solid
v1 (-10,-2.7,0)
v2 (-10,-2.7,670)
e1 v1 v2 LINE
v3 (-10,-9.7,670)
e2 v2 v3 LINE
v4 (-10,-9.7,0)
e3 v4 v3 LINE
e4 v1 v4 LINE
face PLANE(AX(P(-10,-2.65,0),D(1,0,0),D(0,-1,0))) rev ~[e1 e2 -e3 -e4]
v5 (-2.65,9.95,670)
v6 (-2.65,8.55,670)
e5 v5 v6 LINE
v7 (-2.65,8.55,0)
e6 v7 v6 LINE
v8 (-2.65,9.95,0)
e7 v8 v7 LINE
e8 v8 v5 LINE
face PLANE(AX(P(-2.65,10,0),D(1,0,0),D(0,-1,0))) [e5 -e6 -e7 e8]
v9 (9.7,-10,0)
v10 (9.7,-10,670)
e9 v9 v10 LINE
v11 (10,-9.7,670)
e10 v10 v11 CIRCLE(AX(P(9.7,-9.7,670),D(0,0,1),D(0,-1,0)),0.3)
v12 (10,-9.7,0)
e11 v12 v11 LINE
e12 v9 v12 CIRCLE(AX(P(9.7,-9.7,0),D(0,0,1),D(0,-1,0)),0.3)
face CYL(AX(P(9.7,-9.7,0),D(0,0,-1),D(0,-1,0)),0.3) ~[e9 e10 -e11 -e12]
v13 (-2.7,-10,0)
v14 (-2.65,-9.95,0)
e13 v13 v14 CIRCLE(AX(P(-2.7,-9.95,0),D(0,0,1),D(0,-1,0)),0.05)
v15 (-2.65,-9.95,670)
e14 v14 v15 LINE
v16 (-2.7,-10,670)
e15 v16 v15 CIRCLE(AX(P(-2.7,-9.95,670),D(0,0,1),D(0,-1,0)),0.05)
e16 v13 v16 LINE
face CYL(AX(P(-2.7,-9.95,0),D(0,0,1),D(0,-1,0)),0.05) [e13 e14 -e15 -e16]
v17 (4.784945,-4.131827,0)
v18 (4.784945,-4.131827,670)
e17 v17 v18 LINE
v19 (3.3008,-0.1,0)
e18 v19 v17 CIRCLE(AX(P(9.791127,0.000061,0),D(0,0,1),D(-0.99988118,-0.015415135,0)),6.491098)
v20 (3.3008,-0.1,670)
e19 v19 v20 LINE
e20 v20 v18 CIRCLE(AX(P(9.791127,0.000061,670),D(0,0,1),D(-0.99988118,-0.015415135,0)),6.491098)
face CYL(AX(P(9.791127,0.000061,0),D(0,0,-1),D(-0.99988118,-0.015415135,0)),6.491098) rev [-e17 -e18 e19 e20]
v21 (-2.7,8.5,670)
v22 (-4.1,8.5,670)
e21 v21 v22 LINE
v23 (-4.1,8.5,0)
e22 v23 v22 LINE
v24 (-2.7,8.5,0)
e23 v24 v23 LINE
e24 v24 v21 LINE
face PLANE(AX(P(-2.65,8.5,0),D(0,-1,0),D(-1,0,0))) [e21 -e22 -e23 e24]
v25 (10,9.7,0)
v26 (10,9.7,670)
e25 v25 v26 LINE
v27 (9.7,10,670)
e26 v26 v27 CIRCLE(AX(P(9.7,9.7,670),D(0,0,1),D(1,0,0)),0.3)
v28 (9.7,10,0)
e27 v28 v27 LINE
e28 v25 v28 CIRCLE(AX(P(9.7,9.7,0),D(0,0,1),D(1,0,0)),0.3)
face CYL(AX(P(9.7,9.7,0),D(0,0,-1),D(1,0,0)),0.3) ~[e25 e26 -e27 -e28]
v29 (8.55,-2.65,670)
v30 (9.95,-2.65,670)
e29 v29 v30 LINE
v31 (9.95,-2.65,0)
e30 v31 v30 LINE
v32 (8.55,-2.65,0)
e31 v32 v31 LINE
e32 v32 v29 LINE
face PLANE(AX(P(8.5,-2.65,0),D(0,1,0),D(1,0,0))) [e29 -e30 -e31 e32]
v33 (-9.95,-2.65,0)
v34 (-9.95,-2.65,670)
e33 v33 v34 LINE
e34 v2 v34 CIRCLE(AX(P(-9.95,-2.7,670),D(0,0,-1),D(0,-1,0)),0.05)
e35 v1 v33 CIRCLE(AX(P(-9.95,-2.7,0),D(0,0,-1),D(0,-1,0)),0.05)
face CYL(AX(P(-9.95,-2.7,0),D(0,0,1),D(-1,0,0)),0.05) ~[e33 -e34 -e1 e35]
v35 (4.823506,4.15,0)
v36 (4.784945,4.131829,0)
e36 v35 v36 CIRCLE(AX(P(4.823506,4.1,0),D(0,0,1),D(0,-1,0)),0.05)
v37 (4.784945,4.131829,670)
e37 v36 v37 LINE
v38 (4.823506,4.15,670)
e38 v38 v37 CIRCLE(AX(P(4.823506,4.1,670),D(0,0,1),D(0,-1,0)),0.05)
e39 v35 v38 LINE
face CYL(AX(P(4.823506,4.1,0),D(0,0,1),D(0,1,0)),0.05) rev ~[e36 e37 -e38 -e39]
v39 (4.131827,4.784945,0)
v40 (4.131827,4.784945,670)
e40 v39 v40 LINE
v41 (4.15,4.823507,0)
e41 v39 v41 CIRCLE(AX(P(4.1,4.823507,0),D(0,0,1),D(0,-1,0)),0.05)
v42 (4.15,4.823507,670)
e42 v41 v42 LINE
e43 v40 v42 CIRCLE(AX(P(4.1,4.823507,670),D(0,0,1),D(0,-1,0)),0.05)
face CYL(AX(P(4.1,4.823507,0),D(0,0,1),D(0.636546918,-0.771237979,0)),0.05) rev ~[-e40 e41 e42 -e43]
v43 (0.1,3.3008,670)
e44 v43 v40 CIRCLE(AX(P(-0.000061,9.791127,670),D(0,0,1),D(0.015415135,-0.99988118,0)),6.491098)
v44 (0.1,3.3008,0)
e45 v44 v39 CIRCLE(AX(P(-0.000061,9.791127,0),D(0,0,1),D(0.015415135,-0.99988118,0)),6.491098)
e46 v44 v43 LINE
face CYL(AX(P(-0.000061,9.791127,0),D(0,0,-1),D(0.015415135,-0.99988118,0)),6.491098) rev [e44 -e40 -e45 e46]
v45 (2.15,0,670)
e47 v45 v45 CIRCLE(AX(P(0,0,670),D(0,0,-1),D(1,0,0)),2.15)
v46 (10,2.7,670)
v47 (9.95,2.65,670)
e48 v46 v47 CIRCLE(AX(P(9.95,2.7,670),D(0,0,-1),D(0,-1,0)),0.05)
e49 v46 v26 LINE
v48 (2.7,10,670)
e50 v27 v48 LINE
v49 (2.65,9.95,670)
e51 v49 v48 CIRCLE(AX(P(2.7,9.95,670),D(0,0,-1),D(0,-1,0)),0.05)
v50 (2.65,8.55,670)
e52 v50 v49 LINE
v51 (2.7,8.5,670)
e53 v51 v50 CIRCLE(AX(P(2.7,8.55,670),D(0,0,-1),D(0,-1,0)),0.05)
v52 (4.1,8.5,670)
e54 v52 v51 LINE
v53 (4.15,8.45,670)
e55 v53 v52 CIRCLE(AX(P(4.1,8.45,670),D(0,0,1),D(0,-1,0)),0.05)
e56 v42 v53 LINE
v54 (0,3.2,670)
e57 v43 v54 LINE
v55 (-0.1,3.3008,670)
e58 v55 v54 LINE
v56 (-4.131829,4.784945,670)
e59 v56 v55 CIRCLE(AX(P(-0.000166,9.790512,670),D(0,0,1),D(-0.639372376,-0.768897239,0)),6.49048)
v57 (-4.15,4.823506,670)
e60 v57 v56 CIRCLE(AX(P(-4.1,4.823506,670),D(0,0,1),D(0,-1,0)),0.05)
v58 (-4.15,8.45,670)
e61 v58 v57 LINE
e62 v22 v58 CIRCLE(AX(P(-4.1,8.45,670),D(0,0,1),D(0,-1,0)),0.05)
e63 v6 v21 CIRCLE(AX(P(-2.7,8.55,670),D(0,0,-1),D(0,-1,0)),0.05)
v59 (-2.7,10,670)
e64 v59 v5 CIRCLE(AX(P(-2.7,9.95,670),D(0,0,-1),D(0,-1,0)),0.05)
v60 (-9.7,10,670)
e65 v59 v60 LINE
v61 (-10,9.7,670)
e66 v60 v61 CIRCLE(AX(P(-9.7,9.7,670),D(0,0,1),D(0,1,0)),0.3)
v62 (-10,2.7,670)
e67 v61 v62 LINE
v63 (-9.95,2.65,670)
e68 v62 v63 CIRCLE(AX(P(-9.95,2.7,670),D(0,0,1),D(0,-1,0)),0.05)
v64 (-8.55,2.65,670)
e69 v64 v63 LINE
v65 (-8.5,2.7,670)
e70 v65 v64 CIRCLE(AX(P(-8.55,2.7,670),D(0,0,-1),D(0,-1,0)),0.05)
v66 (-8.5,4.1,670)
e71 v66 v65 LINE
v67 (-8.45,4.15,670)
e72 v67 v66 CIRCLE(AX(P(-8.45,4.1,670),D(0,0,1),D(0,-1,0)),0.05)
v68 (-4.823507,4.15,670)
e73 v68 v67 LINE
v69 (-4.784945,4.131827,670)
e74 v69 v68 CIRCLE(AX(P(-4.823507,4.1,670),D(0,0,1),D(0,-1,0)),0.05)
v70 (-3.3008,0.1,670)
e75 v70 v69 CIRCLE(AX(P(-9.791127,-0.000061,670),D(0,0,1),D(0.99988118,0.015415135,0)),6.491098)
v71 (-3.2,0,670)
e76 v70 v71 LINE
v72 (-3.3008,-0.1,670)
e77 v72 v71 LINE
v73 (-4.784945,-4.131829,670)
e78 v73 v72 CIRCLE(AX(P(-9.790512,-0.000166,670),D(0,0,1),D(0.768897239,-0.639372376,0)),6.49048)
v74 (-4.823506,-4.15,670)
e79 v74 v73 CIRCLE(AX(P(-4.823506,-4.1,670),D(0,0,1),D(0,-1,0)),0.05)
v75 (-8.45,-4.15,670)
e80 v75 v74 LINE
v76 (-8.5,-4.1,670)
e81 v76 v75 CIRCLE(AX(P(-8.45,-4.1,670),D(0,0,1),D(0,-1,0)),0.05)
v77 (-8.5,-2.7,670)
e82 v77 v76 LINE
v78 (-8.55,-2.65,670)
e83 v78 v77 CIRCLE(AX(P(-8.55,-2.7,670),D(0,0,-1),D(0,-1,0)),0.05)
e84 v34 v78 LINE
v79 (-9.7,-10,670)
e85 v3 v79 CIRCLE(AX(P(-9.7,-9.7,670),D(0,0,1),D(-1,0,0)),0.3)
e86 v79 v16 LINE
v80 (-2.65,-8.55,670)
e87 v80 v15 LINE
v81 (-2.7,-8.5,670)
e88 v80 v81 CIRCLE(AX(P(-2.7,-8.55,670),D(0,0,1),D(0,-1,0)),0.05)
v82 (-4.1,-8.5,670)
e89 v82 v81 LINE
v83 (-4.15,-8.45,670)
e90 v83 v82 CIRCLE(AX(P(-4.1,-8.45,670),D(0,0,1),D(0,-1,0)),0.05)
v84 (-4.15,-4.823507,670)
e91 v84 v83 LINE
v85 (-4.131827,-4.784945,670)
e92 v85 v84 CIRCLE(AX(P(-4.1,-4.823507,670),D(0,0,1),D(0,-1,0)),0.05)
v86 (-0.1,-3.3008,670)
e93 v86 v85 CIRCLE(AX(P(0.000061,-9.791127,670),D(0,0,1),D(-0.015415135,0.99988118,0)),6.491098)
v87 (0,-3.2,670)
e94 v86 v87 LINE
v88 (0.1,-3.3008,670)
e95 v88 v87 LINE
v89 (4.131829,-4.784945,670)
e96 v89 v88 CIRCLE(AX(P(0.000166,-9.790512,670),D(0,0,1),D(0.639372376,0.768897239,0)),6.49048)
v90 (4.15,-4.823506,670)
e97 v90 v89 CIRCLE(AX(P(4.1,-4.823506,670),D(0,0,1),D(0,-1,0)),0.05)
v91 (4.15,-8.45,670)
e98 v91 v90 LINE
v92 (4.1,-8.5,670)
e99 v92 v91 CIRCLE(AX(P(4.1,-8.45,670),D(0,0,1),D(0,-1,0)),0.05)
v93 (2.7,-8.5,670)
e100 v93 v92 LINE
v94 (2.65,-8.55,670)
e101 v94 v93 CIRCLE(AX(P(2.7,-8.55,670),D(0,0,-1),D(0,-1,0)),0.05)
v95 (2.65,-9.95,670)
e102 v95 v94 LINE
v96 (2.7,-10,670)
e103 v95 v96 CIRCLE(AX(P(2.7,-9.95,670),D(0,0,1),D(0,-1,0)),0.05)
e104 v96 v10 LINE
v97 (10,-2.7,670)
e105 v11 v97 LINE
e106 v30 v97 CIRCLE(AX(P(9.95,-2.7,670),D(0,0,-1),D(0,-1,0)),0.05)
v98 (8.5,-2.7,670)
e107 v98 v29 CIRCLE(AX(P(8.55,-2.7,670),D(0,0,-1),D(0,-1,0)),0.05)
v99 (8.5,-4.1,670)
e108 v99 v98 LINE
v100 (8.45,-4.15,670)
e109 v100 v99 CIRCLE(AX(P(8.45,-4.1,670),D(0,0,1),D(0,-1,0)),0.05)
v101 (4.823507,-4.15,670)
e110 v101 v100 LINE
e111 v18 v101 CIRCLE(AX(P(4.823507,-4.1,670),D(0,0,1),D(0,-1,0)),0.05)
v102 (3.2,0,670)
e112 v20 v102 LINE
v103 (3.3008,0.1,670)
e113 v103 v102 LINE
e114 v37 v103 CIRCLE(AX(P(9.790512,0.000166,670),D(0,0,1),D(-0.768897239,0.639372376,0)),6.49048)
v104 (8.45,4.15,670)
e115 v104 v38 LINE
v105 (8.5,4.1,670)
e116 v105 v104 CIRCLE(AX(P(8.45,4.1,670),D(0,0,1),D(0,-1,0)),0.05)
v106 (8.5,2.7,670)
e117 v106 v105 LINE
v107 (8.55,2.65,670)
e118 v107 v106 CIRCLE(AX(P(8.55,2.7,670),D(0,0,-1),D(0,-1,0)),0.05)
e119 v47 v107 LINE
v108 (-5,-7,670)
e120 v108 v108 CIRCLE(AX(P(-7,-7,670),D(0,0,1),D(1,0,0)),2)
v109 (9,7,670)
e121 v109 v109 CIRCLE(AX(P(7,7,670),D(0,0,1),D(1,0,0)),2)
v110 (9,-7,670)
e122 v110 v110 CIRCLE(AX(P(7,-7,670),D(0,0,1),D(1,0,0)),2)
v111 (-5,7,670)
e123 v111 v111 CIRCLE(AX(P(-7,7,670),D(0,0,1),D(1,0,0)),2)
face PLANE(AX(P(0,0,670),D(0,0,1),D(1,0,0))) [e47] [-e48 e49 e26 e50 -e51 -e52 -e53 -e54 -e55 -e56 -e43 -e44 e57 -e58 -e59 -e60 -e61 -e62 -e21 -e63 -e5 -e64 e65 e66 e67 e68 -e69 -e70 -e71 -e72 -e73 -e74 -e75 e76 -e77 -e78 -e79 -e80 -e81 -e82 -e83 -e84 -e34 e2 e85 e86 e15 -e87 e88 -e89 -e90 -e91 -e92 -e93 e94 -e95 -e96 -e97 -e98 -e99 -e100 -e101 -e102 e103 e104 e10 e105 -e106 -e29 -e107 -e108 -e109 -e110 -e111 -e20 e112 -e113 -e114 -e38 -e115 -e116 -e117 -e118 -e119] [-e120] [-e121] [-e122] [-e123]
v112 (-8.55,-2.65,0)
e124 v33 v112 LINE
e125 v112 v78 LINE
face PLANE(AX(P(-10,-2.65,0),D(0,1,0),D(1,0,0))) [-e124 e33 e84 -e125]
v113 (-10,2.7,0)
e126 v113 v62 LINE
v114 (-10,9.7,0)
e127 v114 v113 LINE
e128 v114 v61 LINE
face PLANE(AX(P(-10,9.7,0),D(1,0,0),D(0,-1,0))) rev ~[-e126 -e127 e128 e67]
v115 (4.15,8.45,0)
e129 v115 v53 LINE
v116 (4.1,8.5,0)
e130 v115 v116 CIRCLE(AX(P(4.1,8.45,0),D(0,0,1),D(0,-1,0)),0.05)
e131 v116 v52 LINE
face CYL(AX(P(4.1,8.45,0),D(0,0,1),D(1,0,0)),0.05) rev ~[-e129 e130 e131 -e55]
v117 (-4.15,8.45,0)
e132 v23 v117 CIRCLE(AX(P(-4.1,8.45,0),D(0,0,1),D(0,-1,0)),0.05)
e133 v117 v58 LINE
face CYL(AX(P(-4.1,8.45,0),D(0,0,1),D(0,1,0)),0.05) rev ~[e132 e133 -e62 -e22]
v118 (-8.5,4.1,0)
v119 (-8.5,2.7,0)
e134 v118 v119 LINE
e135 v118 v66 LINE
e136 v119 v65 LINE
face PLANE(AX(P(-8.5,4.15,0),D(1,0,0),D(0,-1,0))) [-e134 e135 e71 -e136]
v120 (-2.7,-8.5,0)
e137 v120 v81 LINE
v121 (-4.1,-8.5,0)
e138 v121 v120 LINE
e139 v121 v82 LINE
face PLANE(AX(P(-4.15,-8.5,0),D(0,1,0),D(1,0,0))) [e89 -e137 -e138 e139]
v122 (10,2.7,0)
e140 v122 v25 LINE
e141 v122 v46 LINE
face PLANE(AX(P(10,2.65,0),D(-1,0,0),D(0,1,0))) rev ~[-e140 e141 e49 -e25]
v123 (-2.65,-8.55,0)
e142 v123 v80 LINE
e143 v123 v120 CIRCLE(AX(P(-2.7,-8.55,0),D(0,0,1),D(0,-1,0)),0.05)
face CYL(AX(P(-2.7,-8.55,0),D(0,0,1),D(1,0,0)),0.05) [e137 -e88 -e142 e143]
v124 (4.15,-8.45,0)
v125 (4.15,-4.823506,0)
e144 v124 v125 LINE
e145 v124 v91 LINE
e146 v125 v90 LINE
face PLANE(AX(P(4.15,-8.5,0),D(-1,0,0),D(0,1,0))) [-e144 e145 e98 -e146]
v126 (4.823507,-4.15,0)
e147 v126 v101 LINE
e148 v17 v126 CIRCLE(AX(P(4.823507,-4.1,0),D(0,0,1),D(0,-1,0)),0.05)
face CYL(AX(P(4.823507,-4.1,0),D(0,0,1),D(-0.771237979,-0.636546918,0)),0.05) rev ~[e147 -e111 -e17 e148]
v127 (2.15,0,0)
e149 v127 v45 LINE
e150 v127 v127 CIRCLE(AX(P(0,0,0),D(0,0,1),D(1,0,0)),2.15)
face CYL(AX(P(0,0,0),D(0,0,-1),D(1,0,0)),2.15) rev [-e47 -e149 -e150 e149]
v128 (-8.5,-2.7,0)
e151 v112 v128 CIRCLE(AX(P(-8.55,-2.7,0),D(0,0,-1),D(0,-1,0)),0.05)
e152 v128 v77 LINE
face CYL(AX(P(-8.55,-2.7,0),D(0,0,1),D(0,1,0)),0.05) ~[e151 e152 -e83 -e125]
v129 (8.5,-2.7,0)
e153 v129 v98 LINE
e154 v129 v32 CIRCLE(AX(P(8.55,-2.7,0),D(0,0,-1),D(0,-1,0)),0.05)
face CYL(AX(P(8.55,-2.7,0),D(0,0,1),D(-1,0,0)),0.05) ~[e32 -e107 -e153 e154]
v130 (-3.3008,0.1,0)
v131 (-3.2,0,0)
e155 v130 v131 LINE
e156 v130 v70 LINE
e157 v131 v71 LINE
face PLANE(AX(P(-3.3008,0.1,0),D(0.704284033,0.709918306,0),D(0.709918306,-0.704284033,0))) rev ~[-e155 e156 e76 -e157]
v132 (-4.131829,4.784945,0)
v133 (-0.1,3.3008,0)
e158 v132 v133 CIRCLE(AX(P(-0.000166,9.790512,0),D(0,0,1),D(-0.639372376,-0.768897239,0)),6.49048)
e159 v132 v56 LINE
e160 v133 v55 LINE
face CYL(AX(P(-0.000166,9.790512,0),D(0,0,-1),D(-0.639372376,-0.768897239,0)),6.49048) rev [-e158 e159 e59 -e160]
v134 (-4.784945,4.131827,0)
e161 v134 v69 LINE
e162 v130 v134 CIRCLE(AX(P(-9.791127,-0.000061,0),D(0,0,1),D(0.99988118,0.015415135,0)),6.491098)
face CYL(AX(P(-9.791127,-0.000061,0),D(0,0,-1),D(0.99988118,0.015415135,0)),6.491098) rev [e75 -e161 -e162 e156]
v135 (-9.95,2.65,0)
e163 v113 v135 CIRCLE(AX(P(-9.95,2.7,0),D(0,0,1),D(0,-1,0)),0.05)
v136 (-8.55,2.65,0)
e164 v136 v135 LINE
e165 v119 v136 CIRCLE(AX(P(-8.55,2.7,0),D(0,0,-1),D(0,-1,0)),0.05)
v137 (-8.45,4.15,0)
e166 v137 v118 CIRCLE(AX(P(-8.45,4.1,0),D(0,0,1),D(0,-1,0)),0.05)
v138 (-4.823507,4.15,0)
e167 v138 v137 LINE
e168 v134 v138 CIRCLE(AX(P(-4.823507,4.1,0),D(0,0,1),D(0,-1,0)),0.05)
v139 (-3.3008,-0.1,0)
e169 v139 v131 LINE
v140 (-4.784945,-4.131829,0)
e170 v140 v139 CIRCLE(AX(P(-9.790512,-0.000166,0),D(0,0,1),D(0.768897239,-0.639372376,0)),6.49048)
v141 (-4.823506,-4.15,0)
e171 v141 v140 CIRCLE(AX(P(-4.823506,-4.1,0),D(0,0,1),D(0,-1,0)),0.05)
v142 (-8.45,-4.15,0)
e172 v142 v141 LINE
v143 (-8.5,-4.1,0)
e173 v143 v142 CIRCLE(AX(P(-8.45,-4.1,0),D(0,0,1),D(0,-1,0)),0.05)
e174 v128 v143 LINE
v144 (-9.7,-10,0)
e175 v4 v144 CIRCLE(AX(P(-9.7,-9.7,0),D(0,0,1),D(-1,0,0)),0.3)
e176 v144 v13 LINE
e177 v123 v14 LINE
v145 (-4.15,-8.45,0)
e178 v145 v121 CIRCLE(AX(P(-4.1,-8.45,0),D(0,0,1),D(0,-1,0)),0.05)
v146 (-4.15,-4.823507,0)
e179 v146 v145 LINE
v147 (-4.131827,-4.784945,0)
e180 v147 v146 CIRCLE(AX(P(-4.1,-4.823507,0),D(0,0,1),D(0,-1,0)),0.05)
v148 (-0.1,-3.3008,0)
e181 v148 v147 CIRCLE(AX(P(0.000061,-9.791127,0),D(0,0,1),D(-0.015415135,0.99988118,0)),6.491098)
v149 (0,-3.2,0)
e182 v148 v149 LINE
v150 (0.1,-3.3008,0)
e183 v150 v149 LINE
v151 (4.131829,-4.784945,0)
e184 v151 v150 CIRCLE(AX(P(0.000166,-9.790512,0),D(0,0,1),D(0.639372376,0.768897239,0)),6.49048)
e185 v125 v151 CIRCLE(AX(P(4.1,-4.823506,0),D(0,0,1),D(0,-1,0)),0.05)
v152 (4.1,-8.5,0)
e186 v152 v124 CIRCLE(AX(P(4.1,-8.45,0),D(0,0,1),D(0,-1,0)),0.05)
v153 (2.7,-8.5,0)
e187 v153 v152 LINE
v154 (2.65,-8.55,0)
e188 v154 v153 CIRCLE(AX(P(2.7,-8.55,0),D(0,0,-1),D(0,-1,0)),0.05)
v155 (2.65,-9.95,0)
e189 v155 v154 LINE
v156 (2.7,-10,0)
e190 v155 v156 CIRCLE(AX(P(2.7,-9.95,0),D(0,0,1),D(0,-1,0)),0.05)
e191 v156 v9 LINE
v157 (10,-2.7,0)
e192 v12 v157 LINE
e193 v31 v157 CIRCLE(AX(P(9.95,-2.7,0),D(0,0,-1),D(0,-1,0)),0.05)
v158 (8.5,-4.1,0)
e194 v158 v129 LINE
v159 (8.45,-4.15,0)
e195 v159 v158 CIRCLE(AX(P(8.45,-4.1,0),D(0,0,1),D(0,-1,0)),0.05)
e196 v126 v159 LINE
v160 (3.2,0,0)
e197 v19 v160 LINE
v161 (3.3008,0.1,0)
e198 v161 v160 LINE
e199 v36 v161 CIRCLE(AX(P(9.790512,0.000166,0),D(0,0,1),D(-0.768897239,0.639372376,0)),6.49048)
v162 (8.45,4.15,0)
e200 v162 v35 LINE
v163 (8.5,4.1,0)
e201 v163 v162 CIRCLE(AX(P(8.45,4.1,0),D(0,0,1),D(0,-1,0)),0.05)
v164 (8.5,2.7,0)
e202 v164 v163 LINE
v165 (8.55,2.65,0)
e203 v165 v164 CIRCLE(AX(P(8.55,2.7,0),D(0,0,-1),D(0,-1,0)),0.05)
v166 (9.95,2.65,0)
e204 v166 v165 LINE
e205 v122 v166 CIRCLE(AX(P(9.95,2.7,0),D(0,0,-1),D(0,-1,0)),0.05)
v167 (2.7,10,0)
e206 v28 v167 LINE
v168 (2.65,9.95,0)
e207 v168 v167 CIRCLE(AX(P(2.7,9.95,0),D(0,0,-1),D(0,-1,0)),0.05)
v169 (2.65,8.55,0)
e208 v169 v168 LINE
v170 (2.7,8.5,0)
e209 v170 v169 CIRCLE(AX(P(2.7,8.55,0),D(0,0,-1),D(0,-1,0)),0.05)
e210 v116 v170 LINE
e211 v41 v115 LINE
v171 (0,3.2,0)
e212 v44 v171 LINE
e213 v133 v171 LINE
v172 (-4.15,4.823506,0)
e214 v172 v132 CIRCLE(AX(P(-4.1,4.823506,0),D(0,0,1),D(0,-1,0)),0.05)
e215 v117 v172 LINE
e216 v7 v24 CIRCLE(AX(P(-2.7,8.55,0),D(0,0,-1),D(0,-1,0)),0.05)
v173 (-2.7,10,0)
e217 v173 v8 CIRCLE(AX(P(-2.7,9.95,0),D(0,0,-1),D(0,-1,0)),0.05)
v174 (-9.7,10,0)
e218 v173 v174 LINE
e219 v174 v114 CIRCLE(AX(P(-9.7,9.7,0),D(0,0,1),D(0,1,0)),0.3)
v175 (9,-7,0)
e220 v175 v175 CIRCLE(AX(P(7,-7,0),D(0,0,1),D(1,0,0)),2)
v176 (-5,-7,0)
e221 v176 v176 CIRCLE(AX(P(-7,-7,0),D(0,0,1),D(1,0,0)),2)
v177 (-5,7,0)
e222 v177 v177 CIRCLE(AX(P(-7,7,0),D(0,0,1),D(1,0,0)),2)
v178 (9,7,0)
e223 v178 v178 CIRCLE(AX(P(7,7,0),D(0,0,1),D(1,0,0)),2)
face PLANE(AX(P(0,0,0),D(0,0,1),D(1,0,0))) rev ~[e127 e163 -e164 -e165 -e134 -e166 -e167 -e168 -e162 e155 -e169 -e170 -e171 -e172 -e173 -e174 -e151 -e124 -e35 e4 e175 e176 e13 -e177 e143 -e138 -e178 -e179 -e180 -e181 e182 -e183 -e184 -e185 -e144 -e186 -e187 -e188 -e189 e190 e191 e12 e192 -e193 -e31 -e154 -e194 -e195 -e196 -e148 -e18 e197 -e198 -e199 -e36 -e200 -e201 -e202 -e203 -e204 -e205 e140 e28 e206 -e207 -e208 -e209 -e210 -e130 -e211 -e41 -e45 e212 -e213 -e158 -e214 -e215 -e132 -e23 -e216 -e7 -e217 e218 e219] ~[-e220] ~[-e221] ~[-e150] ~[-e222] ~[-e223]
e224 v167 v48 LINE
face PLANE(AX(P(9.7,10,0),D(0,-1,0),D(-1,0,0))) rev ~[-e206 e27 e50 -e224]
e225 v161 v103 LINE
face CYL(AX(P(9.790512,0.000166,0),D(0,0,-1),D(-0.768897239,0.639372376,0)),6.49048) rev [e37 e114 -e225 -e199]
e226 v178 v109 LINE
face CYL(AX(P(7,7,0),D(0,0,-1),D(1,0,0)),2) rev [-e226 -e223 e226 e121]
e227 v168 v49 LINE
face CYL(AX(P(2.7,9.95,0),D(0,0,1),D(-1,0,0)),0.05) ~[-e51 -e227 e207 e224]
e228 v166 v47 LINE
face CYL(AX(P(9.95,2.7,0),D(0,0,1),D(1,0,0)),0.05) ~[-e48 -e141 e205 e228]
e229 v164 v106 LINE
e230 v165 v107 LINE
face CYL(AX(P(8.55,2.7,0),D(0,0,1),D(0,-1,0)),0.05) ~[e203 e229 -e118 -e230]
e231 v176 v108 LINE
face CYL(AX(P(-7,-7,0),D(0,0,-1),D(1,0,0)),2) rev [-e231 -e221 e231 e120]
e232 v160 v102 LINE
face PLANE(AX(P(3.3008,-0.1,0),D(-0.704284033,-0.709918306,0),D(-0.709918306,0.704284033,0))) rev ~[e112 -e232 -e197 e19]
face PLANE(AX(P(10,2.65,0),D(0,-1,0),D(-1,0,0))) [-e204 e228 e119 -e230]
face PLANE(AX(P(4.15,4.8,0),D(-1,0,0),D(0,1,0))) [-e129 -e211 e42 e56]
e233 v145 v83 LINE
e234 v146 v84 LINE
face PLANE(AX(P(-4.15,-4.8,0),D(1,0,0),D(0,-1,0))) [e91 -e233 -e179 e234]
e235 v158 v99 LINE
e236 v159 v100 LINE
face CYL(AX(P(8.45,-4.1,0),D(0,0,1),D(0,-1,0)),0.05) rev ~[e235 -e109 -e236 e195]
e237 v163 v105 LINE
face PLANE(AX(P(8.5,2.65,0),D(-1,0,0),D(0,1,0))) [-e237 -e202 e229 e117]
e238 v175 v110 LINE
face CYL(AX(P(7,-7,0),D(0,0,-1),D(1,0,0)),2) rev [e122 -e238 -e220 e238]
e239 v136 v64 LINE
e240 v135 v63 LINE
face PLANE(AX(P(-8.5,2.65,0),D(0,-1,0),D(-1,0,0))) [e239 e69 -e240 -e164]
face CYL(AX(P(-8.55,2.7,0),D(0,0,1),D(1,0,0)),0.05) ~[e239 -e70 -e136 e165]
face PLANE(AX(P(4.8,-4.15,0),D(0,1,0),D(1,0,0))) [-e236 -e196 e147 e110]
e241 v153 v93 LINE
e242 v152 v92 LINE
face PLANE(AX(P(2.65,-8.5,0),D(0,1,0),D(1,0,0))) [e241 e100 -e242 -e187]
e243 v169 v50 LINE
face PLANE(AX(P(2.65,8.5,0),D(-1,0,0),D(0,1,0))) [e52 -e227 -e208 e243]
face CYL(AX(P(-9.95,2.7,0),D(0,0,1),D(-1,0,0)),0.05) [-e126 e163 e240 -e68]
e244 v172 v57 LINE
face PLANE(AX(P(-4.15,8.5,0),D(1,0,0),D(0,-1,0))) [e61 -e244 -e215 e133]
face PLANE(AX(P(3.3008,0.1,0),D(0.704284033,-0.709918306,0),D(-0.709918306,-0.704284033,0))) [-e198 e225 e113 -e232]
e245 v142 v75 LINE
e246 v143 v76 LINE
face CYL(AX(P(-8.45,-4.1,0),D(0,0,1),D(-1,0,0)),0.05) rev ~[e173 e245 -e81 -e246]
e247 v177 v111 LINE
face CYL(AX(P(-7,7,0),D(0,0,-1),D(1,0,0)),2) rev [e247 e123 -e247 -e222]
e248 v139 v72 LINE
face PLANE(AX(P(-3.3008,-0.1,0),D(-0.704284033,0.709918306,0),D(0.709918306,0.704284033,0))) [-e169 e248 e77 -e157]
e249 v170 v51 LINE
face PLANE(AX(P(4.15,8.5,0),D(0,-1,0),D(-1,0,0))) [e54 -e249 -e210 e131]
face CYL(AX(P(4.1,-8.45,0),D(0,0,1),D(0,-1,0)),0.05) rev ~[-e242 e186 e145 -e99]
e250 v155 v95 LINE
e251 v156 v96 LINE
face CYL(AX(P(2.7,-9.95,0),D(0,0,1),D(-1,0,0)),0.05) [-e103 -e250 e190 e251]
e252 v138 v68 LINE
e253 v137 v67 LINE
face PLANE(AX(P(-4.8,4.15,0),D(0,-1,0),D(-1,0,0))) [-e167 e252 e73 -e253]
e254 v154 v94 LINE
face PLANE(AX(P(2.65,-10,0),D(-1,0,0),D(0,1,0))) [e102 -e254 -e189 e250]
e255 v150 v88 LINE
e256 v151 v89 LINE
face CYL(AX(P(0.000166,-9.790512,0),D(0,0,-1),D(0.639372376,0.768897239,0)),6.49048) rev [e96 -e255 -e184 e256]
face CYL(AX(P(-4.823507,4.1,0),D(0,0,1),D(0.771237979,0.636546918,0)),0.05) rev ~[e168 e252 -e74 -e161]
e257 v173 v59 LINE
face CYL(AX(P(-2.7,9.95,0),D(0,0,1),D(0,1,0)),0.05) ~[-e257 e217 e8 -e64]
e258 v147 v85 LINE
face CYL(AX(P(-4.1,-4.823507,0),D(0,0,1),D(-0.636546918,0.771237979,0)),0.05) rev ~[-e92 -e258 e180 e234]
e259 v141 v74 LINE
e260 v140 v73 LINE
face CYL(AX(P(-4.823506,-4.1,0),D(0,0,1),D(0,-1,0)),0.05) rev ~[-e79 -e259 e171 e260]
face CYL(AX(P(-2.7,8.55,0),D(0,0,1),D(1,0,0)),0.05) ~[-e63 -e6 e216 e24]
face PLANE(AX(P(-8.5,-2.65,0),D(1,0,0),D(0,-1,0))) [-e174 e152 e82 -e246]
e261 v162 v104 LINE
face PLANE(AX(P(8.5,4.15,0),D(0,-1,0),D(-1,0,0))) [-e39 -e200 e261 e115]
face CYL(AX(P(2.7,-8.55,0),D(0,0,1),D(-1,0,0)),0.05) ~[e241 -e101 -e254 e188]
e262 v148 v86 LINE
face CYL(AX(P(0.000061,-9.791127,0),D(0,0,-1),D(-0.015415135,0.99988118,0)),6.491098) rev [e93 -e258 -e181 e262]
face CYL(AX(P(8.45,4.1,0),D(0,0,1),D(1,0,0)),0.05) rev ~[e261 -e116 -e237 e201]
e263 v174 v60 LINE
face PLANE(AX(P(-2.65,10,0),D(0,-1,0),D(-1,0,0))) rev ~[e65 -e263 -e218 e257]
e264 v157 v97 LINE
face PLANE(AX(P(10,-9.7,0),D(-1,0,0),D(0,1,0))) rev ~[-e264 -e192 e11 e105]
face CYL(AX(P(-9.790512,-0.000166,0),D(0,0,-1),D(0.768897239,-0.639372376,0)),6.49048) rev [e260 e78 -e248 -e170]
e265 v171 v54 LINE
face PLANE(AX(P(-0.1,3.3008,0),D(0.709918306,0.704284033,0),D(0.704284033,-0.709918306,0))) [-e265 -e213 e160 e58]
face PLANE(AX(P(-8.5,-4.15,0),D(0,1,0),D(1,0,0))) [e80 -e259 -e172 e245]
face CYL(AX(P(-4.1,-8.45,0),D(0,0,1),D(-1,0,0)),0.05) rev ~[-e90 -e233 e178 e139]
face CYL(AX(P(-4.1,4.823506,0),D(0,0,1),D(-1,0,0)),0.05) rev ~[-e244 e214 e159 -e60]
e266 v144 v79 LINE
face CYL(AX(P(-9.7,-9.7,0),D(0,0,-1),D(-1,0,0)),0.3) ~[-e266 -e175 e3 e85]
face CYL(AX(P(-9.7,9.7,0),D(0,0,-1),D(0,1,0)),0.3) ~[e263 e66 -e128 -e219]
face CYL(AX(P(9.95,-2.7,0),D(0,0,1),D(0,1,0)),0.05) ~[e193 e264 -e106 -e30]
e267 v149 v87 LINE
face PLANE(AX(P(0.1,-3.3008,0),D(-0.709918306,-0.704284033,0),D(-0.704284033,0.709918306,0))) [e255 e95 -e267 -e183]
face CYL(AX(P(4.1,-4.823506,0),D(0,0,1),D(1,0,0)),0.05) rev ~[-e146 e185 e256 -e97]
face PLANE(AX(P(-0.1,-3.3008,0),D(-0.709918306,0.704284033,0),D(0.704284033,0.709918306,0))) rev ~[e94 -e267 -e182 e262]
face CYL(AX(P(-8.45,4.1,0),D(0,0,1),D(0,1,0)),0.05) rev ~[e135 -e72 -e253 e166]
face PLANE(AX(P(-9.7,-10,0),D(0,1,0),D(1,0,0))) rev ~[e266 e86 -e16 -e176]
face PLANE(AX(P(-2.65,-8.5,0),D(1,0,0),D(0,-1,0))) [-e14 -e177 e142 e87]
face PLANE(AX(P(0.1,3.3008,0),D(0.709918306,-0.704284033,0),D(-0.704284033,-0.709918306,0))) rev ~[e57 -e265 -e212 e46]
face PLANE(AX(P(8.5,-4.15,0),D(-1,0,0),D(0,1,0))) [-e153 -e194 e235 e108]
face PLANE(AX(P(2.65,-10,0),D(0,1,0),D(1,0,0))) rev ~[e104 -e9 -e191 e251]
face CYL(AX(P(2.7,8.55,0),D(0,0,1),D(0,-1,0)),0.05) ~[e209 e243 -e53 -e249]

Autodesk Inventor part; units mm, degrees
ref_plane "YZ Plane" through (0, 0, 0) normal (1, 0, 0) x (0, 1, 0)
ref_plane "XZ Plane" through (0, 0, 0) normal (0, 1, 0) x (-1, 0, 0)
ref_plane "XY Plane" through (0, 0, 0) normal (0, 0, 1) x (1, 0, 0)
sketch "스케치1" plane through (0, 0, 0) normal (0, 0, 1) x (1, 0, 0)
  line L0 (-9.7, -10) -> (9.7, -10)
  line L1 (10, -9.7) -> (10, 9.7)
  line L2 (9.7, 10) -> (-9.7, 10)
  line L3 (-10, 9.7) -> (-10, -9.7)
  line L4 (-10, -10) -> (10, 10) construction
  line L5 (10, -10) -> (-10, 10) construction
  circle A0 centre (-7, 7) radius 2
  line L6 (0, 15.6683) -> (0, -20)
  line L7 (-22.0072, 0) -> (22.0072, 0)
  circle A1 centre (0, 0) radius 2.15
  arc A2 (-9.7, 10) -> (-10, 9.7) centre (-9.7, 9.7) ccw
  arc A3 (10, 9.7) -> (9.7, 10) centre (9.7, 9.7) ccw
  arc A4 (9.7, -10) -> (10, -9.7) centre (9.7, -9.7) ccw
  arc A5 (-10, -9.7) -> (-9.7, -10) centre (-9.7, -9.7) ccw
  line L8 (-2.65, 10) -> (-2.65, 8.5)
  line L9 (-2.65, 8.5) -> (-4.15, 8.5)
  line L10 (-4.15, 8.5) -> (-4.15, 4.8)
  line L11 (4.15, 4.8) -> (4.15, 8.5)
  line L12 (4.15, 8.5) -> (2.65, 8.5)
  line L13 (2.65, 8.5) -> (2.65, 10)
  line L14 (-0.1, 3.3008) -> (0, 3.2)
  line L15 (0.1, 3.3008) -> (0, 3.2)
  arc A6 (-4.15, 4.8) -> (-0.1, 3.3008) centre (0, 9.7908) ccw
  arc A7 (0.1, 3.3008) -> (4.15, 4.8) centre (0, 9.7908) ccw
  circle A8 centre (7, 7) radius 2
  circle A9 centre (-7, -7) radius 2
  circle A10 centre (7, -7) radius 2
  line L16 (-3.3008, 0.1) -> (-3.2, 0)
  line L17 (-3.3008, -0.1) -> (-3.2, 0)
  arc A11 (-4.8, -4.15) -> (-3.3008, -0.1) centre (-9.7908, 0) ccw
  line L18 (-8.5, -4.15) -> (-4.8, -4.15)
  line L19 (-10, -2.65) -> (-8.5, -2.65)
  line L20 (-8.5, 2.65) -> (-10, 2.65)
  arc A12 (-3.3008, 0.1) -> (-4.8, 4.15) centre (-9.7908, 0) ccw
  line L21 (-4.8, 4.15) -> (-8.5, 4.15)
  line L22 (-8.5, 4.15) -> (-8.5, 2.65)
  line L23 (-8.5, -2.65) -> (-8.5, -4.15)
  line L24 (-0.1, -3.3008) -> (0, -3.2)
  line L25 (0.1, -3.3008) -> (0, -3.2)
  arc A13 (4.15, -4.8) -> (0.1, -3.3008) centre (0, -9.7908) ccw
  line L26 (4.15, -8.5) -> (4.15, -4.8)
  line L27 (2.65, -10) -> (2.65, -8.5)
  line L28 (-2.65, -8.5) -> (-2.65, -10)
  arc A14 (-0.1, -3.3008) -> (-4.15, -4.8) centre (0, -9.7908) ccw
  line L29 (-4.15, -4.8) -> (-4.15, -8.5)
  line L30 (-4.15, -8.5) -> (-2.65, -8.5)
  line L31 (2.65, -8.5) -> (4.15, -8.5)
  line L32 (3.3008, -0.1) -> (3.2, 0)
  line L33 (3.3008, 0.1) -> (3.2, 0)
  arc A15 (4.8, 4.15) -> (3.3008, 0.1) centre (9.7908, 0) ccw
  line L34 (8.5, 4.15) -> (4.8, 4.15)
  line L35 (10, 2.65) -> (8.5, 2.65)
  line L36 (8.5, -2.65) -> (10, -2.65)
  arc A16 (3.3008, -0.1) -> (4.8, -4.15) centre (9.7908, 0) ccw
  line L37 (4.8, -4.15) -> (8.5, -4.15)
  line L38 (8.5, -4.15) -> (8.5, -2.65)
  line L39 (8.5, 2.65) -> (8.5, 4.15)
  point P0 (2.65, 9.25)
  point P1 (-2.65, 9.25)
  point P2 (-4.15, 6.65)
  point P3 (0, 3.3)
  point P4 (-3.3, 0)
  point P5 (-9.25, -2.65)
  point P6 (-6.65, -4.15)
  point P7 (-9.25, 2.65)
  point P8 (0, -3.3)
  point P9 (2.65, -9.25)
  point P10 (4.15, -6.65)
  point P11 (-2.65, -9.25)
  point P12 (3.3, 0)
  point P13 (9.25, 2.65)
  point P14 (6.65, 4.15)
  point P15 (9.25, -2.65)
  dimension "d0" = 20
  dimension "d1" = 20
  dimension "d2" = 4
  dimension "d3" = 14
  dimension "d4" = 14
  dimension "d5" = 4.3
  dimension "d6" = 0.3
  dimension "d9" = 8.3
  dimension "d10" = 5.3
  dimension "d11" = 5.3
  dimension "d12" = 1.5
  dimension "d15" = 0.1
  dimension "d16" = 0.1
  dimension "d17" = 0.1
  dimension "d19" = 3.7
  dimension "d22" = 360
extrude "프로파일 길이 설정" add sketch "스케치1" along normal blind 670 contours A5 L3 L19 L23 L18 A11 L17 L7 A1 L6 L24 A14 L29 L30 L28 L0 | L27 L31 L26 A13 L25 L6 A1 L7 L32 A16 L37 L38 L36 L1 A4 L0 | L3 A2 L2 L8 L9 L10 A6 L14 L6 A1 L7 L16 A12 L21 L22 L20 | A1 L6 L15 A7 L11 L12 L13 L2 A3 L1 L35 L39 L34 A15 L33 L7
fillet "모서리" radius 0.05 32 edges at (10, 2.65, 335) (8.5, 2.65, 335) (8.5, 4.15, 335) (10, -2.65, 335) (8.5, -2.65, 335) (8.5, -4.15, 335) (2.65, 8.5, 335) (2.65, 10, 335) (4.15, 8.5, 335) (-4.15, 8.5, 335) (-2.65, 8.5, 335) (-2.65, 10, 335) (-10, 2.65, 335) (-8.5, 2.65, 335) (-8.5, 4.15, 335) (-8.5, -4.15, 335) (-8.5, -2.65, 335) (-10, -2.65, 335) (-2.65, -10, 335) (-2.65, -8.5, 335) (-4.15, -8.5, 335) (2.65, -8.5, 335) (4.15, -8.5, 335) (2.65, -10, 335) (4.15, -4.8, 335) (-4.15, -4.8, 335) (-4.8, -4.15, 335) (-4.8, 4.15, 335) (-4.15, 4.8, 335) (4.15, 4.8, 335) (4.8, -4.15, 335) (4.8, 4.15, 335)
equation "\"d0\" = d1"
equation "\"d11\" = d10"
equation "\"d17\" = d16"
properties part number "20x20 Profile"
